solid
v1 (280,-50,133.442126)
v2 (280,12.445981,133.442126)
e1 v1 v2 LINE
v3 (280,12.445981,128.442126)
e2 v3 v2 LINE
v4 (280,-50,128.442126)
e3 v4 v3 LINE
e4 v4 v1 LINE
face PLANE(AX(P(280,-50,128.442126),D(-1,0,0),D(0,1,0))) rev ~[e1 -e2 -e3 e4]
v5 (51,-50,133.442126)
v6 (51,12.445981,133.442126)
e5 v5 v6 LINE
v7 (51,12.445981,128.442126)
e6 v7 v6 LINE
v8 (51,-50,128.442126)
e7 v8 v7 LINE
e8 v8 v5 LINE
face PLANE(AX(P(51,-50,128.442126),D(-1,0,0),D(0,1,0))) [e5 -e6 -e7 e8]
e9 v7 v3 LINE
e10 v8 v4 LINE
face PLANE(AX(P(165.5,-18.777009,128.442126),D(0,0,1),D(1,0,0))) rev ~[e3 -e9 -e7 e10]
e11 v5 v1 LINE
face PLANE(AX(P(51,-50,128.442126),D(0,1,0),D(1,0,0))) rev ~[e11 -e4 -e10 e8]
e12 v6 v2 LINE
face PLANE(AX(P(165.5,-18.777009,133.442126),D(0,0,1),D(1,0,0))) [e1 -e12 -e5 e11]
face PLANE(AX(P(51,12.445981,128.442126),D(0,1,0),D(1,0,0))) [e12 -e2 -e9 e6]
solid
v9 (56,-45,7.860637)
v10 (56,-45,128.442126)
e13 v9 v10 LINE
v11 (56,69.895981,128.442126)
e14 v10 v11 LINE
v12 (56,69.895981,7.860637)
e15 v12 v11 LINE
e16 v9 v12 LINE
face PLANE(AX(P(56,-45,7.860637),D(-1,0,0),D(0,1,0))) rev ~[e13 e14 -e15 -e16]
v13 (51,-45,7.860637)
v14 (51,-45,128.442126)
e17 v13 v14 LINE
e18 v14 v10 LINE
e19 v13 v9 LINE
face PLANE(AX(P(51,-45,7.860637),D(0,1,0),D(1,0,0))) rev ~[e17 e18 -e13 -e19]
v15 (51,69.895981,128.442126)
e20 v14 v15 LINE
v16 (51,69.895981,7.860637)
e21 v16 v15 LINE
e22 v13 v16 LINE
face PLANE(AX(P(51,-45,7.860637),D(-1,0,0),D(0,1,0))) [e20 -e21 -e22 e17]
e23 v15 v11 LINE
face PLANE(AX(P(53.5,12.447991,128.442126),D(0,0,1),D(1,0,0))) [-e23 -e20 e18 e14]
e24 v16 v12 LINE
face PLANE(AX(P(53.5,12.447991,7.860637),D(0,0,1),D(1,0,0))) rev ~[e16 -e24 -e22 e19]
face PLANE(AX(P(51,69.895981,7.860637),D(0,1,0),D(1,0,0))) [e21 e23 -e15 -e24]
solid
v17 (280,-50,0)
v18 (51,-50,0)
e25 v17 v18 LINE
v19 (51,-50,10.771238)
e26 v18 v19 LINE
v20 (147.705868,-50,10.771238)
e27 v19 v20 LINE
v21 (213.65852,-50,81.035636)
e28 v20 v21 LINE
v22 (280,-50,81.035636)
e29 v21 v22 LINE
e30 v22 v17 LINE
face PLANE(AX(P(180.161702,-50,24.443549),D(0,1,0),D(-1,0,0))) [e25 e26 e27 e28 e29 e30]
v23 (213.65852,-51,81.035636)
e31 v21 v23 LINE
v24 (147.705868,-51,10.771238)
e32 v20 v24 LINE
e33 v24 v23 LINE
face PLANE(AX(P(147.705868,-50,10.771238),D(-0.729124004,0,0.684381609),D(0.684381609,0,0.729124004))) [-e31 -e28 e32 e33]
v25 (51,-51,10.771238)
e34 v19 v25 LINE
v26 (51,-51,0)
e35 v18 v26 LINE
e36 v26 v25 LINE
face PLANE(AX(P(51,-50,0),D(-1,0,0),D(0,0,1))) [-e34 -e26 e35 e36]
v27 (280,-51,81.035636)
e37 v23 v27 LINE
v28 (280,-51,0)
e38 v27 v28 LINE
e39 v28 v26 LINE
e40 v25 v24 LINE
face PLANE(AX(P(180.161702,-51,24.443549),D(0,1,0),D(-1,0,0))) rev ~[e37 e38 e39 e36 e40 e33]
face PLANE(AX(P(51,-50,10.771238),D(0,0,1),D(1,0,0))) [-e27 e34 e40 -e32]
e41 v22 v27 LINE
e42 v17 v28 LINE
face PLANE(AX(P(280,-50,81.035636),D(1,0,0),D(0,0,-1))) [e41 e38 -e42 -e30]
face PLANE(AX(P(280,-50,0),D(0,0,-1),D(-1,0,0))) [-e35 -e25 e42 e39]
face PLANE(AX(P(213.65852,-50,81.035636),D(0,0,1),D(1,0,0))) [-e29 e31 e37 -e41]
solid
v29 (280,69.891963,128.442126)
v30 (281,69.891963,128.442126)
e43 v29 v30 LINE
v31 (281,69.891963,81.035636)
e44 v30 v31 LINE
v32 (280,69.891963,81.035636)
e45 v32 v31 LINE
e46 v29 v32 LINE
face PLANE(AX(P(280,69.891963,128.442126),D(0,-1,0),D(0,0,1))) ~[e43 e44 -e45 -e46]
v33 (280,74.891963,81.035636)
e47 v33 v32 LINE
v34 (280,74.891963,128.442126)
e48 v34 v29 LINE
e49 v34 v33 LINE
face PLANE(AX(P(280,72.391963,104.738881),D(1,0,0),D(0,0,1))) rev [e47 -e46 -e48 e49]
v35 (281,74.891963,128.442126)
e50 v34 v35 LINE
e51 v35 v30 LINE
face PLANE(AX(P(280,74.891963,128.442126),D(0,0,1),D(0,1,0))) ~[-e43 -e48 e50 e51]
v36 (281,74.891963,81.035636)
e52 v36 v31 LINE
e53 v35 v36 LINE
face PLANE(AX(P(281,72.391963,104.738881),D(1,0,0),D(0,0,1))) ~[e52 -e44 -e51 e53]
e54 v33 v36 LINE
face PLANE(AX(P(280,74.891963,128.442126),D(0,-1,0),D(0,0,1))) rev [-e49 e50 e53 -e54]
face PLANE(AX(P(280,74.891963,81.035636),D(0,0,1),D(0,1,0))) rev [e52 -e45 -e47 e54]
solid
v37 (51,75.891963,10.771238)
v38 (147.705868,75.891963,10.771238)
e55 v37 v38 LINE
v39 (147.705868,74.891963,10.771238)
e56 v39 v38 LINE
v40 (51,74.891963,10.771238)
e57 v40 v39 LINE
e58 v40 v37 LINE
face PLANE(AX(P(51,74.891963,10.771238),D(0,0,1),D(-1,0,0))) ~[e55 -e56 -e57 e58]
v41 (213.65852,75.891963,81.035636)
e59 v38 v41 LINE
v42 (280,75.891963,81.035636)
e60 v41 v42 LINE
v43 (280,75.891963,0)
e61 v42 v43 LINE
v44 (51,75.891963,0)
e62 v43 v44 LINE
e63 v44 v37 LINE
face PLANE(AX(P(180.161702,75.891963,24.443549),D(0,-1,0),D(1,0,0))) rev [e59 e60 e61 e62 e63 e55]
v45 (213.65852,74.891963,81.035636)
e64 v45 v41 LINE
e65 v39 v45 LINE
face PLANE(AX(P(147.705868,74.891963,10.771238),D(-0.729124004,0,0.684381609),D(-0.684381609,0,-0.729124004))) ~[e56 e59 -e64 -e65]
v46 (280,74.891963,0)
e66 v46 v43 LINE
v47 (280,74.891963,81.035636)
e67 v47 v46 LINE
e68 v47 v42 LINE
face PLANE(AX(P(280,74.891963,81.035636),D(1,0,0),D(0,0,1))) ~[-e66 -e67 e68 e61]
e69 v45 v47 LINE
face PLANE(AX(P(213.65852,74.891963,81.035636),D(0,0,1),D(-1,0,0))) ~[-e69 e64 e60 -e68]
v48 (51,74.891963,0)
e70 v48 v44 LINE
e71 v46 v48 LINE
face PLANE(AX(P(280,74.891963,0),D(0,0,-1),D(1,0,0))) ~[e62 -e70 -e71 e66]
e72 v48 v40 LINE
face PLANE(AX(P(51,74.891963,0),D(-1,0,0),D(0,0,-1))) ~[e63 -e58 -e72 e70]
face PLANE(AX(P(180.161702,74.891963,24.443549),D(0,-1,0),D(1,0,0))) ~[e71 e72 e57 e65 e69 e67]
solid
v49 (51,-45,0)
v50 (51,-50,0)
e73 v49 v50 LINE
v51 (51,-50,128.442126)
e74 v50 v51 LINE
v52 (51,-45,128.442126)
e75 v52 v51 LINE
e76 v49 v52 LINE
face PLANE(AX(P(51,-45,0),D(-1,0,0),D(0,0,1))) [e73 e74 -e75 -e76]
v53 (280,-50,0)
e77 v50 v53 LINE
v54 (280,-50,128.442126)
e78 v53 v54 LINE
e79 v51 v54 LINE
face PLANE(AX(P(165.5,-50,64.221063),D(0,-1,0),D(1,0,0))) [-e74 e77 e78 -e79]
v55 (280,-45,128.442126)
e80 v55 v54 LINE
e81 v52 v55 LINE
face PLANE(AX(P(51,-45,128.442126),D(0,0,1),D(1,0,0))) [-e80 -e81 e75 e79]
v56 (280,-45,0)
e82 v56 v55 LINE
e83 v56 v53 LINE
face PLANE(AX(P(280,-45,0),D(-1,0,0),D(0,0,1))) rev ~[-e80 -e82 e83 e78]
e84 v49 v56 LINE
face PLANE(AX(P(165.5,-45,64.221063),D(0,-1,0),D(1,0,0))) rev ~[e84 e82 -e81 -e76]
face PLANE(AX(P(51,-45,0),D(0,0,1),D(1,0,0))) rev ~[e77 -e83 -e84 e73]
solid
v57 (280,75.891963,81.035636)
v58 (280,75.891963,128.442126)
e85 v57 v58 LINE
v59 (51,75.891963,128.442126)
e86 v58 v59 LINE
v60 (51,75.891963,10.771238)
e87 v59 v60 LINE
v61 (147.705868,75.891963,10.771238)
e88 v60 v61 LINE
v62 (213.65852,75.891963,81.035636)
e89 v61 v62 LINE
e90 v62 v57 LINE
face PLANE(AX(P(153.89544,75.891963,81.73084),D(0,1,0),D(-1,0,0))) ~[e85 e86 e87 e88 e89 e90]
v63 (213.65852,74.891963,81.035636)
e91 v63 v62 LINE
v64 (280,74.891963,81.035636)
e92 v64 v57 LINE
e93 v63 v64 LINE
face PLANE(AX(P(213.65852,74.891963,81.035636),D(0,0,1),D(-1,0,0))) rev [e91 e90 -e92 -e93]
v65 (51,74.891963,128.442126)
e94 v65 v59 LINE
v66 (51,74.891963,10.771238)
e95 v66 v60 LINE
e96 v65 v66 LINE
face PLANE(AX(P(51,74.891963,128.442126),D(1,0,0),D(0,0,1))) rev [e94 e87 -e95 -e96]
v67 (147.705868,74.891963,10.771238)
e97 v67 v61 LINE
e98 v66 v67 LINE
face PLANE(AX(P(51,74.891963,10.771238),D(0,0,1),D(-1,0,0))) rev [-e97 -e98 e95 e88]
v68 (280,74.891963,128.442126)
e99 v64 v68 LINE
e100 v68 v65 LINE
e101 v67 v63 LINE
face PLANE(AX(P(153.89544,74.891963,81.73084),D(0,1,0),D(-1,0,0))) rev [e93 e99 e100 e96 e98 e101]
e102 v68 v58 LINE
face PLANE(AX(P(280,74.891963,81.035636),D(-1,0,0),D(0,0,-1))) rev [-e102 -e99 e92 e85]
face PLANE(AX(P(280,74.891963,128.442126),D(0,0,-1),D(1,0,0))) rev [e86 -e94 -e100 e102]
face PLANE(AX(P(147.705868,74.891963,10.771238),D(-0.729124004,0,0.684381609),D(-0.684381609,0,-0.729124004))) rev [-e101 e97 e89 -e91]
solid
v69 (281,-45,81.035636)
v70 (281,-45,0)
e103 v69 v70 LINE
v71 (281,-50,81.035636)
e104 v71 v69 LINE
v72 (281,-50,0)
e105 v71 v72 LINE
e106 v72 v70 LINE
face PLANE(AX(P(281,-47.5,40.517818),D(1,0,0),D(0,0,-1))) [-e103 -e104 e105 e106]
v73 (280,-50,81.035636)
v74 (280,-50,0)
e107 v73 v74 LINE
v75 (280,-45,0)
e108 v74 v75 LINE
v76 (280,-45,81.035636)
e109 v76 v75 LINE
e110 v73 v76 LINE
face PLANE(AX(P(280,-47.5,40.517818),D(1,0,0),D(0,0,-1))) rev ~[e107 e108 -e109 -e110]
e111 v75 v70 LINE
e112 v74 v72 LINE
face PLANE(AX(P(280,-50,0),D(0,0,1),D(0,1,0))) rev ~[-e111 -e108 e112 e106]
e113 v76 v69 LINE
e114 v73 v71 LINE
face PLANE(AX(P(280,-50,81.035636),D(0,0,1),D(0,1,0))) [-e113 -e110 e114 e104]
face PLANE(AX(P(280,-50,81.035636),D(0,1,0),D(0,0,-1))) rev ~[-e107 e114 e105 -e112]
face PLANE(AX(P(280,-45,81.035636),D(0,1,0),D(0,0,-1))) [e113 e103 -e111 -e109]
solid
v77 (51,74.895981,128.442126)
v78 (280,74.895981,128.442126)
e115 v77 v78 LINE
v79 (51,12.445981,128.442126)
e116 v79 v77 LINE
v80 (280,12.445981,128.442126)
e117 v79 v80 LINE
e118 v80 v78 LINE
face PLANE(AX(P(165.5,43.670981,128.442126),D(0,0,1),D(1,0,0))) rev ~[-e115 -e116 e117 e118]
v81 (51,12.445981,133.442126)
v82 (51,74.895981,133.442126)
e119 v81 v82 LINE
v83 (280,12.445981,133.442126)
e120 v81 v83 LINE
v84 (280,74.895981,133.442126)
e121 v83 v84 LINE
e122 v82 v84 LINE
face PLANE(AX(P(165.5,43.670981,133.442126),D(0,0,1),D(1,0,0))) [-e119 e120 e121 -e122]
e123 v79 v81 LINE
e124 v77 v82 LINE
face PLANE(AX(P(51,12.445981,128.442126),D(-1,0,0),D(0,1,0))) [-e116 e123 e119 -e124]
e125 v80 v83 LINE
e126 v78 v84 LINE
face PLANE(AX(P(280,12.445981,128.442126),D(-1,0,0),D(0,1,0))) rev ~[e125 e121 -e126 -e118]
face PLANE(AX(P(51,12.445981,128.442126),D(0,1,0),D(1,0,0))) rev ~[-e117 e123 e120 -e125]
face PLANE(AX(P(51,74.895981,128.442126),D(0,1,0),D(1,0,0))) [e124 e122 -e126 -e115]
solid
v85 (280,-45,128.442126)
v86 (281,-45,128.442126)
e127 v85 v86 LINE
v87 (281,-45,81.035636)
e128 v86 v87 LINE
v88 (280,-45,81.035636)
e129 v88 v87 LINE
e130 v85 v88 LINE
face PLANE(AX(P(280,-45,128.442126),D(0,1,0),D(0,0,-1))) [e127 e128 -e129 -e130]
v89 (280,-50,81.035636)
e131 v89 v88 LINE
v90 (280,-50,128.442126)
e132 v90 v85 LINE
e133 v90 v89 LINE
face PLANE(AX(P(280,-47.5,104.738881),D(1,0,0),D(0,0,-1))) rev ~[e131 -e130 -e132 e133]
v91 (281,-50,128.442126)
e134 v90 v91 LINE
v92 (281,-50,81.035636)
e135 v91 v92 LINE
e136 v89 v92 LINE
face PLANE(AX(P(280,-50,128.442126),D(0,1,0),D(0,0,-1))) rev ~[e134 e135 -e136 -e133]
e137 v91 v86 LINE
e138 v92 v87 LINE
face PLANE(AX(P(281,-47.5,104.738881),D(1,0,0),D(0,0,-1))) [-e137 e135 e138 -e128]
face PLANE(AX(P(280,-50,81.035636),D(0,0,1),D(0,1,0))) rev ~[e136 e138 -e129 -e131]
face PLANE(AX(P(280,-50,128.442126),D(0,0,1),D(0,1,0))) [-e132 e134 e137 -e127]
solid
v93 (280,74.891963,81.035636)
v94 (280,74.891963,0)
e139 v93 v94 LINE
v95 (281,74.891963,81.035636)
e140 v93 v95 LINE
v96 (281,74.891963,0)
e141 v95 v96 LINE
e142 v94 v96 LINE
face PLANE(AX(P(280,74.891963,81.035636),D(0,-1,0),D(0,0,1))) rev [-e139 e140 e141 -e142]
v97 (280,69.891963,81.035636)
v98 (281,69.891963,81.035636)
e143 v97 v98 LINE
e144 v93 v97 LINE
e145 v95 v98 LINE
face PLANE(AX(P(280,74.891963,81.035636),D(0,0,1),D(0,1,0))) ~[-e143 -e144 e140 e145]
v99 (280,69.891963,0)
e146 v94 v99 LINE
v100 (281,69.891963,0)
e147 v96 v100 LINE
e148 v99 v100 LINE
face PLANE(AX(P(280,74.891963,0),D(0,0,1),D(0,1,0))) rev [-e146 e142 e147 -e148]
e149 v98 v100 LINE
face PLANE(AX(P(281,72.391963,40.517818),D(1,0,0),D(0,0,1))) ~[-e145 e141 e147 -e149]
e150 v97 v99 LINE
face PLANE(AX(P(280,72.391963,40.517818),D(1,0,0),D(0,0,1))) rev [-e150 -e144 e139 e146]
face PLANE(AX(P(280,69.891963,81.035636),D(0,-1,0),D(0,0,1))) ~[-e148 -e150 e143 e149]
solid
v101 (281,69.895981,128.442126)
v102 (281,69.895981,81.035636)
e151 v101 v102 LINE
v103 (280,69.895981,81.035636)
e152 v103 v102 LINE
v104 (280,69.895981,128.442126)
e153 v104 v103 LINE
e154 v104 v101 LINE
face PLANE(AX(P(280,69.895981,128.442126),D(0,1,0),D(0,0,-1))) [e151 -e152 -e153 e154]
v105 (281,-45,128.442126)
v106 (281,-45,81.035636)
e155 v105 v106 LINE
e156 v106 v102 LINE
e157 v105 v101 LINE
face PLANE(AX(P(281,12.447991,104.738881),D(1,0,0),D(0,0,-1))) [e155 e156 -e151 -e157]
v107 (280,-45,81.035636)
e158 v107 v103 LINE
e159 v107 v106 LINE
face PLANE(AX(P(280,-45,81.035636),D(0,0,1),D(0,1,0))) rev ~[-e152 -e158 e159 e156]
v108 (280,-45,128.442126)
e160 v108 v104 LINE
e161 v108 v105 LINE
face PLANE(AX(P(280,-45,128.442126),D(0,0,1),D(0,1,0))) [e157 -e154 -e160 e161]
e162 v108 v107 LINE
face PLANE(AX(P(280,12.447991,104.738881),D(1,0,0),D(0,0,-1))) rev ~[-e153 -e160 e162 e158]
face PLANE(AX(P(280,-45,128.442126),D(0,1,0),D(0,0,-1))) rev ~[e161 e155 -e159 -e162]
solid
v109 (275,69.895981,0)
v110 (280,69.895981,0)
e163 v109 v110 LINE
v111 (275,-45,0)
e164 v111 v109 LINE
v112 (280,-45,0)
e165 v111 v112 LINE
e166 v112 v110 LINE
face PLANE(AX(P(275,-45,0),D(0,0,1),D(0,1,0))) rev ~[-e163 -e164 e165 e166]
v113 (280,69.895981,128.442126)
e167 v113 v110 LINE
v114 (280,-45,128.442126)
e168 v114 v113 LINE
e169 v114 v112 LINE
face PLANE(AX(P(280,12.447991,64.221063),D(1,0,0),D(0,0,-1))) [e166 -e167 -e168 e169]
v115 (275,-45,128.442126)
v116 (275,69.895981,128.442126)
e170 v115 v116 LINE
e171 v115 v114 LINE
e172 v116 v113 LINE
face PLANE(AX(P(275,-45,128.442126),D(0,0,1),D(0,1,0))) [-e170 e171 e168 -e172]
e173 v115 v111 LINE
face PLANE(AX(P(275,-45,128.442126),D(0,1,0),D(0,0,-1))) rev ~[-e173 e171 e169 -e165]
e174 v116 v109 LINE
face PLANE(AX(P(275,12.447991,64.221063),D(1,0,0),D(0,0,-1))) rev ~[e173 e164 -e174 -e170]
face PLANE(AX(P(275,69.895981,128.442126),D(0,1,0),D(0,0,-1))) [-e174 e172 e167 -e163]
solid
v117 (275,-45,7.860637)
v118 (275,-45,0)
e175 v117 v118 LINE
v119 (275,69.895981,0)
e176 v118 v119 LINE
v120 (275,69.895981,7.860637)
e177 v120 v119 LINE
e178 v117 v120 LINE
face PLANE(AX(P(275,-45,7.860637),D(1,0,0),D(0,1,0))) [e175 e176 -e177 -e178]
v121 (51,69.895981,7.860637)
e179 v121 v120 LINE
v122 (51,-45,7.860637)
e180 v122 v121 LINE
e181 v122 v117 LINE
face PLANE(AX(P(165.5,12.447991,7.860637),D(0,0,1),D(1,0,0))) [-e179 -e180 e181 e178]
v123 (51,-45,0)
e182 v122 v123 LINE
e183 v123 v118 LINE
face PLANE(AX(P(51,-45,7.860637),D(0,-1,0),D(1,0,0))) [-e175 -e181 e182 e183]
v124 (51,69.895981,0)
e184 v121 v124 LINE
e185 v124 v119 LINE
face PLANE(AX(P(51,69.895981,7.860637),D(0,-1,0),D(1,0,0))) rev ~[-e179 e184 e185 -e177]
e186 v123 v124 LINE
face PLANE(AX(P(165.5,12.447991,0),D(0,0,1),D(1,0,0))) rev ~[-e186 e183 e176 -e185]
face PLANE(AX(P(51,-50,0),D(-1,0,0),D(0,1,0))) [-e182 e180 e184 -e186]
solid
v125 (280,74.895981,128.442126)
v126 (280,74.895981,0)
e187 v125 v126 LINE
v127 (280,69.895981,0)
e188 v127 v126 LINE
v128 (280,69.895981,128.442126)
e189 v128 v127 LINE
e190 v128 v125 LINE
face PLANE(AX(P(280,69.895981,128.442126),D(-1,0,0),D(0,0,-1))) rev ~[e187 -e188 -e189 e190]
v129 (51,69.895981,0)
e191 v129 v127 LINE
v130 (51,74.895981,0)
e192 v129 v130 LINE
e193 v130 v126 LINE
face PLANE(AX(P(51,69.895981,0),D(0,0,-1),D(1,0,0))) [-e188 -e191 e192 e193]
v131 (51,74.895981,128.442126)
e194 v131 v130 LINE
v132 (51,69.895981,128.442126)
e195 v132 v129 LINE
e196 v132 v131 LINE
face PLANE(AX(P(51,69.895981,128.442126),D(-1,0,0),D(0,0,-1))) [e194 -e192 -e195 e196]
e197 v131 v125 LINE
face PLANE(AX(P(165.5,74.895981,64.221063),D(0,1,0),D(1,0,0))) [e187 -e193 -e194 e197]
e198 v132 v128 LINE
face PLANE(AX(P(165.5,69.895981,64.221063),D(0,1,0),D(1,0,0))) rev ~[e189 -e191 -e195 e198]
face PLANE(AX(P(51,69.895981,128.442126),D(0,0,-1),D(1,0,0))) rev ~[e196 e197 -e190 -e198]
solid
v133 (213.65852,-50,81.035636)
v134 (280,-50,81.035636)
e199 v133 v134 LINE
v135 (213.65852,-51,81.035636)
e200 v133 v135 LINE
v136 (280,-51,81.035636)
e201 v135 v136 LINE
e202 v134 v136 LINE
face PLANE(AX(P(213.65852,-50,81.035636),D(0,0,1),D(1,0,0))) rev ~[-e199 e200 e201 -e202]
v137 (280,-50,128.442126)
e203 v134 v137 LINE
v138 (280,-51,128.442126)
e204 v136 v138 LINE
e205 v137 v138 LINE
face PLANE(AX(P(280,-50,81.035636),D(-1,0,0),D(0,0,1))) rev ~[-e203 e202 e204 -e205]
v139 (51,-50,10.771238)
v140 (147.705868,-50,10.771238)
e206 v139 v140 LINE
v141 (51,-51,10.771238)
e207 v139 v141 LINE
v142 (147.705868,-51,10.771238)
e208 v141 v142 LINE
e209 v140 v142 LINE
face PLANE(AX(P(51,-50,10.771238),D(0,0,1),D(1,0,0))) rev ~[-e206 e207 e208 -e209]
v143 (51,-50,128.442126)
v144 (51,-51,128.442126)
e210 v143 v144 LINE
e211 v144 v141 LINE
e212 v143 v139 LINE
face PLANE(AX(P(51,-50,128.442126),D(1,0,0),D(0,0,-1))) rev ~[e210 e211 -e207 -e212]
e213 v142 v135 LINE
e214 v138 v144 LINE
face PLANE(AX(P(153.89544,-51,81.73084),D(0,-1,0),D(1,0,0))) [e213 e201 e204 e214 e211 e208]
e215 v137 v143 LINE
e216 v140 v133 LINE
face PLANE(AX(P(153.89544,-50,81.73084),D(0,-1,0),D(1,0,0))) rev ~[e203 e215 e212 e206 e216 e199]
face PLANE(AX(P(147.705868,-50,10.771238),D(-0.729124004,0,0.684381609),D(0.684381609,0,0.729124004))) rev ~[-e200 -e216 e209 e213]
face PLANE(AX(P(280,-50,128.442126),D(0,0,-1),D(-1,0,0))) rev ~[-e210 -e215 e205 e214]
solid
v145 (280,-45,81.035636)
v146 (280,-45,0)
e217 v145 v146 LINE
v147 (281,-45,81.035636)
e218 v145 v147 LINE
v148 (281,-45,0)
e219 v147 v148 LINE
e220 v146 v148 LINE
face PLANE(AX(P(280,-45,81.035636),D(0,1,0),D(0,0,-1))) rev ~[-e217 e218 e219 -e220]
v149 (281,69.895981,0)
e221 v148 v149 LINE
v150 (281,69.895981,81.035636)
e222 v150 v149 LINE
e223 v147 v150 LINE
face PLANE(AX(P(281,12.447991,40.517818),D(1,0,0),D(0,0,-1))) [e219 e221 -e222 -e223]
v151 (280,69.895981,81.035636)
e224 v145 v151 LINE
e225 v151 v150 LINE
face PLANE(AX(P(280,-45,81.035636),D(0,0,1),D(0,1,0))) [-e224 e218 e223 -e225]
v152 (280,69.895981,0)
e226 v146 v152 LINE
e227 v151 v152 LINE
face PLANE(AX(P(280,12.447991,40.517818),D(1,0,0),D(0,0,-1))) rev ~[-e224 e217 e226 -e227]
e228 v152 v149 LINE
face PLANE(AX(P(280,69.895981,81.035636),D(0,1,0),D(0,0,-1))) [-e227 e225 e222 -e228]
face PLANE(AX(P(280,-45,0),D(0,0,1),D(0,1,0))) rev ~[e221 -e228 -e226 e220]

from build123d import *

# Parameters (mm, degrees)
SKETCH_1_W          = 229
SKETCH_1_H          = 124.895981316
EXTRUDE_1_DEPTH     = 7.860636733
SKETCH_2_W          = 229
SKETCH_2_H          = 5
CUT_EXTRUDE_1_DEPTH = 7.860636733
SKETCH_4_W          = 229
SKETCH_4_H          = 5
CUT_EXTRUDE_2_DEPTH = 7.860636733
SKETCH_5_W          = 5
SKETCH_5_H          = 114.895981316
CUT_EXTRUDE_3_DEPTH = 7.860636733
SKETCH_6_W          = 229
SKETCH_6_H          = 128.442125646
EXTRUDE_3_DEPTH     = 5
SKETCH_7_W          = 5
SKETCH_7_H          = 114.895981316
EXTRUDE_4_DEPTH     = 120.581488912
SKETCH_8_W          = 229
SKETCH_8_H          = 128.442125646
EXTRUDE_5_DEPTH     = 5
SKETCH_9_W          = 229
SKETCH_9_H          = 62.45
EXTRUDE_6_DEPTH     = 5
SKETCH_10_W         = 229
SKETCH_10_H         = 62.445981316
EXTRUDE_7_DEPTH     = 5
SKETCH_11_W         = 128.442125646
SKETCH_11_H         = 114.895981316
EXTRUDE_8_DEPTH     = 5
EXTRUDE_9_DEPTH     = 1
EXTRUDE_10_DEPTH    = 1
SKETCH_14_W         = 47.406489423
SKETCH_14_H         = 5
EXTRUDE_11_DEPTH    = 1
SKETCH_15_W         = 81.035636223
SKETCH_15_H         = 5
EXTRUDE_12_DEPTH    = 1
SKETCH_16_W         = 47.406489423
SKETCH_16_H         = 114.895981316
EXTRUDE_13_DEPTH    = 1
SKETCH_17_W         = 81.035636223
SKETCH_17_H         = 114.895981316
EXTRUDE_14_DEPTH    = 1


with BuildPart() as part:
    # 스케치1 → 보스-돌출1 (new body)
    with BuildSketch(Plane.XY):
        with Locations((165.5, 12.447990658)):
            Rectangle(SKETCH_1_W, SKETCH_1_H)
    extrude(amount=EXTRUDE_1_DEPTH)

    # 스케치2 → 컷-돌출1 (cut)
    with BuildSketch(Plane.XY.offset(7.860636733)):
        with Locations((165.5, 72.395981316)):
            Rectangle(SKETCH_2_W, SKETCH_2_H)
    extrude(amount=-CUT_EXTRUDE_1_DEPTH, mode=Mode.SUBTRACT)

    # 스케치4 → 컷-돌출2 (cut)
    with BuildSketch(Plane.XY.offset(7.860636733)):
        with Locations((165.5, -47.5)):
            Rectangle(SKETCH_4_W, SKETCH_4_H)
    extrude(amount=-CUT_EXTRUDE_2_DEPTH, mode=Mode.SUBTRACT)

    # 스케치5 → 컷-돌출3 (cut)
    with BuildSketch(Plane.XY.offset(7.860636733)):
        with Locations((277.5, 12.447990658)):
            Rectangle(SKETCH_5_W, SKETCH_5_H)
    extrude(amount=-CUT_EXTRUDE_3_DEPTH, mode=Mode.SUBTRACT)


with BuildPart() as body_2:
    # 스케치6 → 보스-돌출3 (new body)
    with BuildSketch(Plane(origin=(0, 69.895981316, 0), x_dir=(1, 0, 0), z_dir=(0, 1, 0))):
        with Locations((165.5, -64.221062823)):
            Rectangle(SKETCH_6_W, SKETCH_6_H)
    extrude(amount=EXTRUDE_3_DEPTH)


with BuildPart() as body_3:
    # 스케치7 → 보스-돌출4 (new body)
    with BuildSketch(Plane.XY.offset(7.860636733)):
        with Locations((53.5, 12.447990658)):
            Rectangle(SKETCH_7_W, SKETCH_7_H)
    extrude(amount=EXTRUDE_4_DEPTH)


with BuildPart() as body_4:
    # 스케치8 → 보스-돌출5 (new body)
    with BuildSketch(Plane.XZ.offset(45)):
        with Locations((165.5, 64.221062823)):
            Rectangle(SKETCH_8_W, SKETCH_8_H)
    extrude(amount=EXTRUDE_5_DEPTH)


with BuildPart() as body_5:
    # 스케치9 → 보스-돌출6 (new body)
    with BuildSketch(Plane.XY.offset(128.442125646)):
        with Locations((165.5, 43.670981316)):
            Rectangle(SKETCH_9_W, SKETCH_9_H)
    extrude(amount=EXTRUDE_6_DEPTH)


with BuildPart() as body_6:
    # 스케치10 → 보스-돌출7 (new body)
    with BuildSketch(Plane.XY.offset(128.442125646)):
        with Locations((165.5, -18.777009342)):
            Rectangle(SKETCH_10_W, SKETCH_10_H)
    extrude(amount=EXTRUDE_7_DEPTH)


with BuildPart() as body_7:
    # 스케치11 → 보스-돌출8 (new body)
    with BuildSketch(Plane(origin=(275, 0, 0), x_dir=(0, 0, -1), z_dir=(1, 0, 0))):
        with Locations((-64.221062823, 12.447990658)):
            Rectangle(SKETCH_11_W, SKETCH_11_H)
    extrude(amount=EXTRUDE_8_DEPTH)


with BuildPart() as body_8:
    # 스케치12 → 보스-돌출9 (new body)
    with BuildSketch(Plane.XZ.offset(50)):
        Polygon((51, 10.771238208), (147.705868367, 10.771238208), (213.658520424, 81.035636223), (280, 81.035636223), (280, 0), (51, 0), align=None)
    extrude(amount=EXTRUDE_9_DEPTH)


with BuildPart() as body_9:
    # 스케치13 → 보스-돌출10 (new body)
    with BuildSketch(Plane.XZ.offset(50)):
        Polygon((51, 128.442125646), (51, 10.771238208), (147.705868367, 10.771238208), (213.658520424, 81.035636223), (280, 81.035636223), (280, 128.442125646), align=None)
    extrude(amount=EXTRUDE_10_DEPTH)


with BuildPart() as body_10:
    # 스케치14 → 보스-돌출11 (new body)
    with BuildSketch(Plane(origin=(280, 0, 0), x_dir=(0, 0, -1), z_dir=(1, 0, 0))):
        with Locations((-104.738880935, -47.5)):
            Rectangle(SKETCH_14_W, SKETCH_14_H)
    extrude(amount=EXTRUDE_11_DEPTH)


with BuildPart() as body_11:
    # 스케치15 → 보스-돌출12 (new body)
    with BuildSketch(Plane(origin=(280, 0, 0), x_dir=(0, 0, -1), z_dir=(1, 0, 0))):
        with Locations((-40.517818112, -47.5)):
            Rectangle(SKETCH_15_W, SKETCH_15_H)
    extrude(amount=EXTRUDE_12_DEPTH)


with BuildPart() as body_12:
    # 스케치16 → 보스-돌출13 (new body)
    with BuildSketch(Plane(origin=(280, 0, 0), x_dir=(0, 0, -1), z_dir=(1, 0, 0))):
        with Locations((-104.738880935, 12.447990658)):
            Rectangle(SKETCH_16_W, SKETCH_16_H)
    extrude(amount=EXTRUDE_13_DEPTH)


with BuildPart() as body_13:
    # 스케치17 → 보스-돌출14 (new body)
    with BuildSketch(Plane(origin=(280, 0, 0), x_dir=(0, 0, -1), z_dir=(1, 0, 0))):
        with Locations((-40.517818112, 12.447990658)):
            Rectangle(SKETCH_17_W, SKETCH_17_H)
    extrude(amount=EXTRUDE_14_DEPTH)


with BuildPart() as body_14:
    # 대칭 복사2: mirrored copy
    add(body_8.part.mirror(Plane.ZX.offset(12.445981316)))


with BuildPart() as body_15:
    # Mirror 2 2: mirrored copy
    add(body_9.part.mirror(Plane.ZX.offset(12.445981316)))


with BuildPart() as body_16:
    # Mirror 2 3: mirrored copy
    add(body_10.part.mirror(Plane.ZX.offset(12.445981316)))


with BuildPart() as body_17:
    # Mirror 2 4: mirrored copy
    add(body_11.part.mirror(Plane.ZX.offset(12.445981316)))


solid = Compound([part.part, body_2.part, body_3.part, body_4.part, body_5.part, body_6.part, body_7.part, body_8.part, body_9.part, body_10.part, body_11.part, body_12.part, body_13.part, body_14.part, body_15.part, body_16.part, body_17.part])
